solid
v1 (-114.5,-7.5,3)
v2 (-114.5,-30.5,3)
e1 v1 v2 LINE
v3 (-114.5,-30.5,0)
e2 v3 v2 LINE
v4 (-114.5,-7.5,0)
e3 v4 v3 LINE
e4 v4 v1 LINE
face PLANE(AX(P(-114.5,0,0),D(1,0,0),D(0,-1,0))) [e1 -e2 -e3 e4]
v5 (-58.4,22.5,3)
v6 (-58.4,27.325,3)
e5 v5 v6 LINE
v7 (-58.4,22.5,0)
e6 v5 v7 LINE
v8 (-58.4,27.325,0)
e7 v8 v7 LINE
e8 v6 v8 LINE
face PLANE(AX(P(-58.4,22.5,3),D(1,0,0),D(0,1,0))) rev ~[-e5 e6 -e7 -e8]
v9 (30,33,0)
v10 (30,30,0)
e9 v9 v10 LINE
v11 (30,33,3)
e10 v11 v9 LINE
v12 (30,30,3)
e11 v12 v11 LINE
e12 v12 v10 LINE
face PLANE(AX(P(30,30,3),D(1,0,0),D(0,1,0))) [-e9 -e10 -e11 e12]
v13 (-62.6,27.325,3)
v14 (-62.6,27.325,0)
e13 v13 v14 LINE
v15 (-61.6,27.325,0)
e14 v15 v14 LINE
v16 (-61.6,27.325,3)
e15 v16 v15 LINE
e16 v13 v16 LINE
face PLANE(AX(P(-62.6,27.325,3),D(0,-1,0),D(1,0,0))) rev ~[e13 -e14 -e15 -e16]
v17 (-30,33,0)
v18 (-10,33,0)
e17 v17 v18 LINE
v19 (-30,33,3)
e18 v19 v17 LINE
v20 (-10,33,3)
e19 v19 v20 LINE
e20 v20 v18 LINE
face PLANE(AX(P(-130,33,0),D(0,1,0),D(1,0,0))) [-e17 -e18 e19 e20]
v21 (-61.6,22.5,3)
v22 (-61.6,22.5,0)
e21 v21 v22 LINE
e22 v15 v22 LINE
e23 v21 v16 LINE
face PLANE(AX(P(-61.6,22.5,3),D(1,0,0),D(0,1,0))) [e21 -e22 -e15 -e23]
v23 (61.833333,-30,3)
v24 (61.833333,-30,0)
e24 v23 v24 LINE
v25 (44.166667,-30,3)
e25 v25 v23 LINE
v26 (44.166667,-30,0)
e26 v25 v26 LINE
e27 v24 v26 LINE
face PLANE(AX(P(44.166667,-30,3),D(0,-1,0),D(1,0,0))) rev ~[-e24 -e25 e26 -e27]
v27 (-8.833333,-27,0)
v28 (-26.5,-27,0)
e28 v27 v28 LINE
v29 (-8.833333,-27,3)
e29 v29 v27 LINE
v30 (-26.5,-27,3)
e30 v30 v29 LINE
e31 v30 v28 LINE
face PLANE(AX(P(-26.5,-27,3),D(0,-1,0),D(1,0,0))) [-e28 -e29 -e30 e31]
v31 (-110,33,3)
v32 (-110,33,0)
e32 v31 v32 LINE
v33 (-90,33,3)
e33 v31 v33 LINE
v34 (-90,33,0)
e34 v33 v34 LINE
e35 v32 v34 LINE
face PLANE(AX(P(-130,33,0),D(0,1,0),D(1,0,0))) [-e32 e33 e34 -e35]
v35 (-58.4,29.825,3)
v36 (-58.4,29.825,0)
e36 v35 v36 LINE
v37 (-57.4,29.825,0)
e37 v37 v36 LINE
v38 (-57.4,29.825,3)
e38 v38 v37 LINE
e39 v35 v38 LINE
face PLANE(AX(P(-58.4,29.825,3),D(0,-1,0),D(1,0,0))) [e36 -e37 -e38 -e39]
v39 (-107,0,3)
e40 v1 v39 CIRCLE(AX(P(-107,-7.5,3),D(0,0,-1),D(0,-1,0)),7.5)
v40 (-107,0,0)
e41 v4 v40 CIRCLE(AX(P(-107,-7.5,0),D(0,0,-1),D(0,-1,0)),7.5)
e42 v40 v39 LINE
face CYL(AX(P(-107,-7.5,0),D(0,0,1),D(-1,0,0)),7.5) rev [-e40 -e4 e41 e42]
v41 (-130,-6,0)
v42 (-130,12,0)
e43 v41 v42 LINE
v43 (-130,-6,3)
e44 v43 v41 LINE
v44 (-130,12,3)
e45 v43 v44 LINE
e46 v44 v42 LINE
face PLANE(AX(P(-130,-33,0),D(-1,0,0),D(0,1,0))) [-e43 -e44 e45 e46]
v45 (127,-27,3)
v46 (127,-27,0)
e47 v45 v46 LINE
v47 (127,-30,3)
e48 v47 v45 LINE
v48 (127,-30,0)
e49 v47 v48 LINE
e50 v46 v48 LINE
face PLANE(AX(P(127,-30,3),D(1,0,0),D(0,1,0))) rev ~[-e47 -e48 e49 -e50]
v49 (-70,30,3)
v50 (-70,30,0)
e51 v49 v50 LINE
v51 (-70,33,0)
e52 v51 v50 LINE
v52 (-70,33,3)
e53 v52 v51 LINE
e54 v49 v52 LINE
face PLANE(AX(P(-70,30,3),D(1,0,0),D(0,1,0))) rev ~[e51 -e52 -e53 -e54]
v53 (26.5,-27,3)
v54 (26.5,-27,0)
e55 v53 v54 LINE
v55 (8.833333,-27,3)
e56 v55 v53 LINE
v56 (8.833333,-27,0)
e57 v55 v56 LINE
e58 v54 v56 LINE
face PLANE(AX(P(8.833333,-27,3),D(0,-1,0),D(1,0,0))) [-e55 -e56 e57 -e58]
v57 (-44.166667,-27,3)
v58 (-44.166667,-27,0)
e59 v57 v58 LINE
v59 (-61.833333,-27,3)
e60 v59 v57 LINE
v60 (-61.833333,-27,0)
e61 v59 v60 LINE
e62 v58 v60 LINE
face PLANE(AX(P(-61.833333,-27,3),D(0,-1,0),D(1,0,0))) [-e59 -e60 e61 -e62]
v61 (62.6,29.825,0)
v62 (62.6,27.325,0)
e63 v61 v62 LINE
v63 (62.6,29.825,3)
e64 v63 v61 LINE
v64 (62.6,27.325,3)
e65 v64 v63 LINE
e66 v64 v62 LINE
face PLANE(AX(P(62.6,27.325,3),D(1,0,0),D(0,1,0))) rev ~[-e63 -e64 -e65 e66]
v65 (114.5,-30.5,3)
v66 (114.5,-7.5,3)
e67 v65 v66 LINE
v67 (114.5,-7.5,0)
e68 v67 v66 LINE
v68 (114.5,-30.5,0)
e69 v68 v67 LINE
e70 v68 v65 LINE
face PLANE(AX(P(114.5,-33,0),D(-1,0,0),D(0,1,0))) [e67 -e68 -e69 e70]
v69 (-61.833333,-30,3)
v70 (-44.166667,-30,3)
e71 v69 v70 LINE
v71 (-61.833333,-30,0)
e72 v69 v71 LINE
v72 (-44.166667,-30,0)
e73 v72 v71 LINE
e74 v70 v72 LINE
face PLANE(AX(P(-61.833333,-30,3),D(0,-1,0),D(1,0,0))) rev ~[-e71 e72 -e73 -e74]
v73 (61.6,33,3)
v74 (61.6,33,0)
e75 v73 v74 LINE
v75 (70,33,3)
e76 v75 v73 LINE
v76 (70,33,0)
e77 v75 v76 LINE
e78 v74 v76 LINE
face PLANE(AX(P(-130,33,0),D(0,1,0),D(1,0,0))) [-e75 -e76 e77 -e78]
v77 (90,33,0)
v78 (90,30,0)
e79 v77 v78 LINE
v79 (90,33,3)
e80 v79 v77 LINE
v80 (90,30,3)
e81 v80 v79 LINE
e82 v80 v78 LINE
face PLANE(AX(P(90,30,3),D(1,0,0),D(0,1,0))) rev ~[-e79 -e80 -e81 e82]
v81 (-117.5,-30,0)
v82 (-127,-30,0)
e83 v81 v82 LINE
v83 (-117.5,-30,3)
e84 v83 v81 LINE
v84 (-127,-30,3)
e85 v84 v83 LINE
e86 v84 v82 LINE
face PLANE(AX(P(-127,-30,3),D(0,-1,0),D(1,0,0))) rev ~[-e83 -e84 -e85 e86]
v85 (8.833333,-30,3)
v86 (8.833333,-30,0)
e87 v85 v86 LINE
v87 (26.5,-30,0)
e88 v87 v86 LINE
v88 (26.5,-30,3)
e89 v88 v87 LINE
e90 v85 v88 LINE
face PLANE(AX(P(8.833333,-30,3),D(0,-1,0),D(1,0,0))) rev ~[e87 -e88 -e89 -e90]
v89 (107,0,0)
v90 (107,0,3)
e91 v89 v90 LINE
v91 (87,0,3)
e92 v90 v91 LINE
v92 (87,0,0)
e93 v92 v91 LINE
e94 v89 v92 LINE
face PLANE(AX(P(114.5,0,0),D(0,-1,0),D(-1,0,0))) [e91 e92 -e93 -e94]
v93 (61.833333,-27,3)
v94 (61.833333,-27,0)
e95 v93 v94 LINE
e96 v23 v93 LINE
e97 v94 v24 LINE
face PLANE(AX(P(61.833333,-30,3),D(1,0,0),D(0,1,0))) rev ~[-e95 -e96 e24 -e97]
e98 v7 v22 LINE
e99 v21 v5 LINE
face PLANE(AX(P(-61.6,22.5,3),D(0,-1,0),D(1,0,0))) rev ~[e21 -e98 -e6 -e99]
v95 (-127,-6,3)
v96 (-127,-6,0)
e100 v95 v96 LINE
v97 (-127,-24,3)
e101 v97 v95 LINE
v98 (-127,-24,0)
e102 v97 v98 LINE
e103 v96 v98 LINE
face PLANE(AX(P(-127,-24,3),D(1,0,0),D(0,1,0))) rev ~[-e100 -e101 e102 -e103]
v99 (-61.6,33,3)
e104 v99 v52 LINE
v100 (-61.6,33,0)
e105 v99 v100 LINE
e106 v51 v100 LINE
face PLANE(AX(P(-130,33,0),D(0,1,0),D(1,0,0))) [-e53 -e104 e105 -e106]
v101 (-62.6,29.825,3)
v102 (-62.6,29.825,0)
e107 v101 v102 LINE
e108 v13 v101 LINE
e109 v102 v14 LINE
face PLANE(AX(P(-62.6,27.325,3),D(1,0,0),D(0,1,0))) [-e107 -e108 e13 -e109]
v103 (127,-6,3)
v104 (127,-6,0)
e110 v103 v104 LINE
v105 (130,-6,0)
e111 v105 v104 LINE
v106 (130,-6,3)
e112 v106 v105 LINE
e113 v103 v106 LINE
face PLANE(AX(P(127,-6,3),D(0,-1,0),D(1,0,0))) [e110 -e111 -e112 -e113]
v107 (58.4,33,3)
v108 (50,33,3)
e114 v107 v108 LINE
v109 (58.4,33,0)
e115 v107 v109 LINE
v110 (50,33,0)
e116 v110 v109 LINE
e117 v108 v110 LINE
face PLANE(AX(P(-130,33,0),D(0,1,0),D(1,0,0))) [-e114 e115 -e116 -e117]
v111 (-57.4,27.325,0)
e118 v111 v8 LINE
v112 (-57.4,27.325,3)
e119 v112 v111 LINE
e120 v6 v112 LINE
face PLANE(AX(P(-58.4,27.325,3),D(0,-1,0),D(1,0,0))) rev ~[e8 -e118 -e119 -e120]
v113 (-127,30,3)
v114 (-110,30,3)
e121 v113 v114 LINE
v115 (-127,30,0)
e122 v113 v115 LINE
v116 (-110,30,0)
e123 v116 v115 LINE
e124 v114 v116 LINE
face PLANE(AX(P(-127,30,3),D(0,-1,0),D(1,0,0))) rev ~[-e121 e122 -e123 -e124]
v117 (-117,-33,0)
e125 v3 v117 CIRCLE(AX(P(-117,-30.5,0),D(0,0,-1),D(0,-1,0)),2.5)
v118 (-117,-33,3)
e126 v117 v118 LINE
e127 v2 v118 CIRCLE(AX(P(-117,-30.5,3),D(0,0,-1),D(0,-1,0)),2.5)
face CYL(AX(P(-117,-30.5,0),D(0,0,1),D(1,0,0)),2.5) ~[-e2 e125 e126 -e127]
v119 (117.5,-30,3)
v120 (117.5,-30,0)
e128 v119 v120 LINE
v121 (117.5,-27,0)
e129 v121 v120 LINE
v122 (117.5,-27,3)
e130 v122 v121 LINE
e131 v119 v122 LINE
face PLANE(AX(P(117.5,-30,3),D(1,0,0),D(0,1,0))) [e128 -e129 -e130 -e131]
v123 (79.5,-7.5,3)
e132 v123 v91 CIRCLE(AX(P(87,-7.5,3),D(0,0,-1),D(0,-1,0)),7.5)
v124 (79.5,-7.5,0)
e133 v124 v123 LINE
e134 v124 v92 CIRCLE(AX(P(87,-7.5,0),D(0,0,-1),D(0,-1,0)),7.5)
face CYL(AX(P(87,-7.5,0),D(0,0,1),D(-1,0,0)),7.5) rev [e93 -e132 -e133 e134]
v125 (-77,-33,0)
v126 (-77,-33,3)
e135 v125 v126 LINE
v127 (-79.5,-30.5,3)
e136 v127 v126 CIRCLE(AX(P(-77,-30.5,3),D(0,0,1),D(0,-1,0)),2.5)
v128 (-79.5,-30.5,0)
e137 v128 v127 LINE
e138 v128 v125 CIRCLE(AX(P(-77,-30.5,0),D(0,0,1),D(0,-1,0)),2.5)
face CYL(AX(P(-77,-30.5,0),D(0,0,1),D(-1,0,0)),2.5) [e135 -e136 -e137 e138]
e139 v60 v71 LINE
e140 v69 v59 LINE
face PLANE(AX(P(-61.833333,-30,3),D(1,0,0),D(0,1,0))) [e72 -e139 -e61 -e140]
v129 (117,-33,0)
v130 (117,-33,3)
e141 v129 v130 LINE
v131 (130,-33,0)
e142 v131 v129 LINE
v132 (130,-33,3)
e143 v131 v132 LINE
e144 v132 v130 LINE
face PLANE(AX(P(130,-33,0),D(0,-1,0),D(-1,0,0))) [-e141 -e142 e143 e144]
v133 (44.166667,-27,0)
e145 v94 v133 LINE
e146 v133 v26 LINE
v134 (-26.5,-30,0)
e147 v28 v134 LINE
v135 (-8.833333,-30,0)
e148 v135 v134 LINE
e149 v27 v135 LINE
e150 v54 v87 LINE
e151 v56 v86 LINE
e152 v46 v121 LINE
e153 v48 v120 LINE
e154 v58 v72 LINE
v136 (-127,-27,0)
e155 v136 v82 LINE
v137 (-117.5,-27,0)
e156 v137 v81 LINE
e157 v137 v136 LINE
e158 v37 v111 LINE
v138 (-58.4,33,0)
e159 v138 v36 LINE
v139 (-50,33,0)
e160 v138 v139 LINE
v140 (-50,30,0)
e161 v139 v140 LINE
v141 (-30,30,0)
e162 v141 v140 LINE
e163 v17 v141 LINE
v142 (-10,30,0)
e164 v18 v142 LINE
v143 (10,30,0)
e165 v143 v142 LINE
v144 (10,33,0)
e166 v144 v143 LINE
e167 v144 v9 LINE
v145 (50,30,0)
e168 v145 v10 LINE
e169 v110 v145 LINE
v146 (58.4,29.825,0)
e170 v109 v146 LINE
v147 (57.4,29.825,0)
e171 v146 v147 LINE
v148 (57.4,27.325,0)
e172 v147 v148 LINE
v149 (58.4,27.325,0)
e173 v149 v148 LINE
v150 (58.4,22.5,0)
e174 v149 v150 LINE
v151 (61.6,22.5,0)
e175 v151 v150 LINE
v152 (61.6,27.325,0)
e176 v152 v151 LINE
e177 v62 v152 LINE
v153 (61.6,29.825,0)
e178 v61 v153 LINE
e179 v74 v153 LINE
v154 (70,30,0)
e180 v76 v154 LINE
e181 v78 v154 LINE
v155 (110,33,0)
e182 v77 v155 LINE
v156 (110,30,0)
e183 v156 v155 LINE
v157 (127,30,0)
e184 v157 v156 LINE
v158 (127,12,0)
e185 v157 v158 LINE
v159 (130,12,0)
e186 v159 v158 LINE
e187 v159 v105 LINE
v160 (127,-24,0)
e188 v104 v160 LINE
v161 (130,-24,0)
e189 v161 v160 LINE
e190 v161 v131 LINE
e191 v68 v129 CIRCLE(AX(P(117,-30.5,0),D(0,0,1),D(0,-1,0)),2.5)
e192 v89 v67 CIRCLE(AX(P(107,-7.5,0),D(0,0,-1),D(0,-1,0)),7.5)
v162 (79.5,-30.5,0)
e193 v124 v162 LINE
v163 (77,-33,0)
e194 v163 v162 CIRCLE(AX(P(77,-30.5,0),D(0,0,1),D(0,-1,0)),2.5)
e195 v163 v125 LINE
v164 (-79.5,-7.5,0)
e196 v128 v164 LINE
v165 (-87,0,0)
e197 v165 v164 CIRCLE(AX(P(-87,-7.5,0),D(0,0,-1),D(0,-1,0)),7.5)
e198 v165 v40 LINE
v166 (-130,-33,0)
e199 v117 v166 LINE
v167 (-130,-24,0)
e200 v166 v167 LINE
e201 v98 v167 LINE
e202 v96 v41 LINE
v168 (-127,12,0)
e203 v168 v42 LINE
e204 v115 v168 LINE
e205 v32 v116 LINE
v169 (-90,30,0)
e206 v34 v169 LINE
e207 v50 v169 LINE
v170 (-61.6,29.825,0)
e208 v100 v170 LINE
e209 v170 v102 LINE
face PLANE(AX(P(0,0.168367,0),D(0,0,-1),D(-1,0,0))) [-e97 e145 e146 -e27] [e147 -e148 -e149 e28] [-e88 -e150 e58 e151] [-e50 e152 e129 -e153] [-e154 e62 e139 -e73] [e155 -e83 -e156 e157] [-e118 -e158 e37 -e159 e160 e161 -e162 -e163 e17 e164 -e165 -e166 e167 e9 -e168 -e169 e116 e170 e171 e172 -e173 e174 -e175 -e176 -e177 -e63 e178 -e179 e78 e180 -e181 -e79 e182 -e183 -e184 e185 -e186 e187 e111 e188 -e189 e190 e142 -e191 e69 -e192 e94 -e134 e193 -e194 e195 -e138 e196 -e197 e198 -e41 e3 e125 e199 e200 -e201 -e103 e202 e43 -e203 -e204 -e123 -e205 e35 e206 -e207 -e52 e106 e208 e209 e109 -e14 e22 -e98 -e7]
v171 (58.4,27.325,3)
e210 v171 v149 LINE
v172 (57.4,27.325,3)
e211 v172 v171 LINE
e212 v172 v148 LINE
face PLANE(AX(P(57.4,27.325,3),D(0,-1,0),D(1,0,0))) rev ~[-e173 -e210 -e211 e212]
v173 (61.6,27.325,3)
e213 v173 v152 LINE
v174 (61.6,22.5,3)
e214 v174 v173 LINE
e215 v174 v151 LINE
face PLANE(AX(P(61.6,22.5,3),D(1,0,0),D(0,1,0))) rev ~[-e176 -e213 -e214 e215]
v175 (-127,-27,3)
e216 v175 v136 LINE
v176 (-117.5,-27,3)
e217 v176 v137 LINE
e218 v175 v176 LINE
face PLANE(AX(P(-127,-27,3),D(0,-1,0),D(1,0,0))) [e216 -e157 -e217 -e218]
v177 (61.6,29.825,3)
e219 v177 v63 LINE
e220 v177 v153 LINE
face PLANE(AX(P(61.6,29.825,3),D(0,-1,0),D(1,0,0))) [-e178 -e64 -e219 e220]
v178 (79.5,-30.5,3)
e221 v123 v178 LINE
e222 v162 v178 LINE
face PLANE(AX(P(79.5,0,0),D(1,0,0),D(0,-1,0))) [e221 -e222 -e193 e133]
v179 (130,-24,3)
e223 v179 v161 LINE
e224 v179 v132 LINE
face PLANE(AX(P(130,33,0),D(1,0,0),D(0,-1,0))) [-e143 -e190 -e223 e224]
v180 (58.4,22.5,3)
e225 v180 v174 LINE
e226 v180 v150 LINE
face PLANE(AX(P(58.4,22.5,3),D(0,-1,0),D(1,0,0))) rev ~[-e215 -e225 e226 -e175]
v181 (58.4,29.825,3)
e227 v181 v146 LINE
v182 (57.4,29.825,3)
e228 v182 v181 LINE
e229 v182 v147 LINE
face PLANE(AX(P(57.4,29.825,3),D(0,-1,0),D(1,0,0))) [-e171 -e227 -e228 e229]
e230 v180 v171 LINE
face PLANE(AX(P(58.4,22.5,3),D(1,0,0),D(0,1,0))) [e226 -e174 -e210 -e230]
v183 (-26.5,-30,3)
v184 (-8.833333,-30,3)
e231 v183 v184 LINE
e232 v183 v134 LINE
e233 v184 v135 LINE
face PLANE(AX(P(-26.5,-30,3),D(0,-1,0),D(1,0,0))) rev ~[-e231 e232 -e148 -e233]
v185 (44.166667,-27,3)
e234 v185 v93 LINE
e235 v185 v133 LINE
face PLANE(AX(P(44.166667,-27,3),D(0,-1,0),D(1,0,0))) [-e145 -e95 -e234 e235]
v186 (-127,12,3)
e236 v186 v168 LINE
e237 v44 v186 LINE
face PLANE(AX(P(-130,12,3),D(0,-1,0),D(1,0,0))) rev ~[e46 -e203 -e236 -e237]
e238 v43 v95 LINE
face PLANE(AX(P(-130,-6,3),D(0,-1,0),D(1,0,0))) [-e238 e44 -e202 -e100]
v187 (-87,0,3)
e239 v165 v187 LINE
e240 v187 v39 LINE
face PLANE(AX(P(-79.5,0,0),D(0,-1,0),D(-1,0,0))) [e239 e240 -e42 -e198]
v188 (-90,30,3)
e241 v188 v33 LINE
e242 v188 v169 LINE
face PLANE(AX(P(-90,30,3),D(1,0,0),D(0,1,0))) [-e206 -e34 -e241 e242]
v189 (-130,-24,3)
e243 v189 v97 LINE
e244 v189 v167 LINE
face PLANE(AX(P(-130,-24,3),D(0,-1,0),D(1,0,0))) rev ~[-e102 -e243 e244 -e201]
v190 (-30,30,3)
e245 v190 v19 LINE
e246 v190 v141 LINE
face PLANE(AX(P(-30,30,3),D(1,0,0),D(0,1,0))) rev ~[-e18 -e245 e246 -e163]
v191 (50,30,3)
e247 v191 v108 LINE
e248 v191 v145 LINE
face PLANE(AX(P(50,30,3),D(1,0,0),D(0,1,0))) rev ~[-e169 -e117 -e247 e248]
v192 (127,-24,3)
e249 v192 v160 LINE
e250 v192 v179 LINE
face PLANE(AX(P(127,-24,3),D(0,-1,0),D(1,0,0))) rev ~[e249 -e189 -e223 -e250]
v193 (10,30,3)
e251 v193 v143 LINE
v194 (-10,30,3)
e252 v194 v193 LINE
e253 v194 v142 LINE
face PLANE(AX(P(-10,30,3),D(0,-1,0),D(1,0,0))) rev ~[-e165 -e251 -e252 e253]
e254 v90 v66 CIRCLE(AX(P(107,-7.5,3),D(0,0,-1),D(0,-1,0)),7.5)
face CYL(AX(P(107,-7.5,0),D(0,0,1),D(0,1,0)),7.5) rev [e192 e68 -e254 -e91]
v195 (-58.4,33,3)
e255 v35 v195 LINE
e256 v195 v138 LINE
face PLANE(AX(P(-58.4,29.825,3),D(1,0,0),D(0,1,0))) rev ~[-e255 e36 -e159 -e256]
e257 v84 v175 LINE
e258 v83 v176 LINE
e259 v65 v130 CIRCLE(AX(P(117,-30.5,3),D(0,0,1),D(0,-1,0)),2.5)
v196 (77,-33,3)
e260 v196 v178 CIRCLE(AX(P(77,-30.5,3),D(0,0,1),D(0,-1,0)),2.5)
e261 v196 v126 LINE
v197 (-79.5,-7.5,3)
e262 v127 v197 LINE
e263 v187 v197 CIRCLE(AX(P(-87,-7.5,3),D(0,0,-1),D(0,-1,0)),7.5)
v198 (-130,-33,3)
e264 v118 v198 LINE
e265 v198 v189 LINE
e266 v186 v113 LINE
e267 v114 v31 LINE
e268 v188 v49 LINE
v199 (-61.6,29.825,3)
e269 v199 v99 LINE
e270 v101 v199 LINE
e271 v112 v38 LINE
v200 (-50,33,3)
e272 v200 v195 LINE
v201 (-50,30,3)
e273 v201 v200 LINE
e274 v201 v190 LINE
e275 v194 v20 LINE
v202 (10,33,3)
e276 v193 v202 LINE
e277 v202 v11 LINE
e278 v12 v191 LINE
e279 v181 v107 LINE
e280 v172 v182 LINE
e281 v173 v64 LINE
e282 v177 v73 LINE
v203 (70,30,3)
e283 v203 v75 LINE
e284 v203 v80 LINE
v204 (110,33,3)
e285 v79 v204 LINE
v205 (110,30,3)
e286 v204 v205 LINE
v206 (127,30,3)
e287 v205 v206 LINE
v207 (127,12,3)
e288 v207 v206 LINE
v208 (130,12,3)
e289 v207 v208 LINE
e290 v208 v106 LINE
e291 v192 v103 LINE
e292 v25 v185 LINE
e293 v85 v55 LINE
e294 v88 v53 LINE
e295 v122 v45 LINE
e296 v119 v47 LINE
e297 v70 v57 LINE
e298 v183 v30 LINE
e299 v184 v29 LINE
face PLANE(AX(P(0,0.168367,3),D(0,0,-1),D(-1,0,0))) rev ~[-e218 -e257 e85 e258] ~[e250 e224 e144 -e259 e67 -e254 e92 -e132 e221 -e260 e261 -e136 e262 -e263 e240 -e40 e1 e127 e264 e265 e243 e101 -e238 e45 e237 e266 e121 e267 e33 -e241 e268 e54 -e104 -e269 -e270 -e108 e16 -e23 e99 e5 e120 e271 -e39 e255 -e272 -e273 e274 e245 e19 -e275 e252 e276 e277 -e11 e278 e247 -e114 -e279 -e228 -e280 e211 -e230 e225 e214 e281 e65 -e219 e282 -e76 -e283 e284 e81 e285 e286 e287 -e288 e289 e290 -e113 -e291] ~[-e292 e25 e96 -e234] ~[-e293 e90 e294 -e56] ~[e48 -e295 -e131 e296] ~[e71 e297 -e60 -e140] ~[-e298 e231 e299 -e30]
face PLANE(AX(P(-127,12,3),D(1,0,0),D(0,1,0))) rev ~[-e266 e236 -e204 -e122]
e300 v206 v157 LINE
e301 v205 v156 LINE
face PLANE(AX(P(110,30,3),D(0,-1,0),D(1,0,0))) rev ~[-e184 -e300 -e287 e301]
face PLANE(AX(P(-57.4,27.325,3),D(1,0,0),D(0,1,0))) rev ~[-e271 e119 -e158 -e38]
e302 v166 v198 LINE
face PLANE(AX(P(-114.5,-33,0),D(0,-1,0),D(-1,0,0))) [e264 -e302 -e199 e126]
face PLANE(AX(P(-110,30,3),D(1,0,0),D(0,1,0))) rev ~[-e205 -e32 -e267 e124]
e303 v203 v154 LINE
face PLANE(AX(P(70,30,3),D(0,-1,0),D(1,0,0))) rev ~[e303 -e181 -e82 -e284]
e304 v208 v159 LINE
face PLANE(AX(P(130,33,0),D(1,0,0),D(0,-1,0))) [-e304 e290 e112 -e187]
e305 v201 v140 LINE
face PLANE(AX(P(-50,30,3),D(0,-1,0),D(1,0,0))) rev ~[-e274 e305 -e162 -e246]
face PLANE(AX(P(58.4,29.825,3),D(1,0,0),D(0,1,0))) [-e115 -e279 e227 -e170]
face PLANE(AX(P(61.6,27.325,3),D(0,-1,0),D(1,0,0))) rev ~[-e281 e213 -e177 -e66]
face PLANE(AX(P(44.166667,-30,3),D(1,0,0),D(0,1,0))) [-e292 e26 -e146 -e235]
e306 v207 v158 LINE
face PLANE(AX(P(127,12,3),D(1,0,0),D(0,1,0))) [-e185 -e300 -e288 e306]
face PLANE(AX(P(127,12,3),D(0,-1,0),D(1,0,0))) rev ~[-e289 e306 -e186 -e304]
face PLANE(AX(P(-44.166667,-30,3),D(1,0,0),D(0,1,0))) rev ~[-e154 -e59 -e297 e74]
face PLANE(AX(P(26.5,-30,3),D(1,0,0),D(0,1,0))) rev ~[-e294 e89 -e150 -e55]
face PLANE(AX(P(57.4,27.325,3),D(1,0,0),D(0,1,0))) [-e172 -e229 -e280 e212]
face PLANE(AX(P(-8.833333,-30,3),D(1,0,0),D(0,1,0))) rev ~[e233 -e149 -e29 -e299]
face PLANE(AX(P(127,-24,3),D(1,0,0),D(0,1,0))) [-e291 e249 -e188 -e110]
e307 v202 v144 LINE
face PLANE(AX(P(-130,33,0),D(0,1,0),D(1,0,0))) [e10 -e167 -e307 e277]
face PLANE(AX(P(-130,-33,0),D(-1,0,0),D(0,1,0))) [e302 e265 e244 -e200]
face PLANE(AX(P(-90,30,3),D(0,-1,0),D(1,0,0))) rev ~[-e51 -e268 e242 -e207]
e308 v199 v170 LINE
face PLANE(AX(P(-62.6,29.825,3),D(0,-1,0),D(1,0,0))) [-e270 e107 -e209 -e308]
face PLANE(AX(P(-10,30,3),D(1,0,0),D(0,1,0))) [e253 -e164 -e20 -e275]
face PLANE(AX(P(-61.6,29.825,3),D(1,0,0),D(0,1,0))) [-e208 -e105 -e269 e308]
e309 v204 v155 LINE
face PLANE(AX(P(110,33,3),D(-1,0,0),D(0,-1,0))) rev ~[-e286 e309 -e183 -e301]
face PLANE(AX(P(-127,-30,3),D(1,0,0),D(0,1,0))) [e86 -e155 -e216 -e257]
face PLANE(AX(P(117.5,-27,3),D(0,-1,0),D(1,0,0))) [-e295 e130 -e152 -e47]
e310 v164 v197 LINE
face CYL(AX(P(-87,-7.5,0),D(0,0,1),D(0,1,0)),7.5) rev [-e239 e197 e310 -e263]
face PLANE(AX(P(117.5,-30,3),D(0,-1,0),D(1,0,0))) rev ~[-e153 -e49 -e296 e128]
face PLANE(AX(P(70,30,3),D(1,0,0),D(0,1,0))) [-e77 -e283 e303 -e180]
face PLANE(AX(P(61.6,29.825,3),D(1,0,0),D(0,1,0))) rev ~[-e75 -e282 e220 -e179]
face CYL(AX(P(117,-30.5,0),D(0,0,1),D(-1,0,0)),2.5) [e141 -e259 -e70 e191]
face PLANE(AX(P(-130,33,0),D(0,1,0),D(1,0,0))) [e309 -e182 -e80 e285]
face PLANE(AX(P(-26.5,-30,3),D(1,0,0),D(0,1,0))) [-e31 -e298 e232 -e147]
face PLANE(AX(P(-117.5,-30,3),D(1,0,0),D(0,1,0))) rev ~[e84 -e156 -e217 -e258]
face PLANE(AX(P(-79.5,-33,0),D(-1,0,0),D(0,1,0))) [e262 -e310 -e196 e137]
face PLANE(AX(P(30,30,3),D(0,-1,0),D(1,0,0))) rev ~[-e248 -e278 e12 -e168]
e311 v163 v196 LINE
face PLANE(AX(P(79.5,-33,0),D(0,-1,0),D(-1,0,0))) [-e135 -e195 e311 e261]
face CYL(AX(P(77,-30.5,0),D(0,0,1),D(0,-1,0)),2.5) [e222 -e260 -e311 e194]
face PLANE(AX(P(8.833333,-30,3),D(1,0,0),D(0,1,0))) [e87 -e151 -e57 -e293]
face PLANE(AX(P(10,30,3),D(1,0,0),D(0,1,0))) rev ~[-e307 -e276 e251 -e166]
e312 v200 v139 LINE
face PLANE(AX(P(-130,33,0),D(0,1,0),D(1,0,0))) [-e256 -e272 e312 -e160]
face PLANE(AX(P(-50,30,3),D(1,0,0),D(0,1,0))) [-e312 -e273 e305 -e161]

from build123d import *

# Parameters (mm, degrees)
BOSS_EXTRUDE1_DEPTH     = 3
SKETCH2_W               = 3
SKETCH2_H               = 18
SKETCH2_W_2             = 17.666666666
SKETCH2_H_2             = 3
SKETCH2_W_3             = 17.666666667
SKETCH2_W_4             = 9.5
SKETCH2_W_5             = 20
CUT_EXTRUDE1_DEPTH      = 1
CUT_EXTRUDE1_DEPTH_BACK = 4
SKETCH3_W               = 3.2
SKETCH3_H               = 10.5
SKETCH3_W_2             = 5.2
SKETCH3_H_2             = 2.5
CUT_EXTRUDE2_DEPTH      = 1
CUT_EXTRUDE2_DEPTH_BACK = 4
FILLET1_R               = 7.5
FILLET2_R               = 2.5


with BuildPart() as part:
    # Sketch1 → Boss-Extrude1 (new body)
    with BuildSketch(Plane.XY):
        Polygon((-130, 33), (130, 33), (130, -33), (114.5, -33), (114.5, 0), (79.5, 0), (79.5, -33), (-79.5, -33), (-79.5, 0), (-114.5, 0), (-114.5, -33), (-130, -33), align=None)
    extrude(amount=BOSS_EXTRUDE1_DEPTH)

    # Sketch2 → Cut-Extrude1 (cut, two sides)
    with BuildSketch(Plane.XY.offset(3)) as cut_extrude1_sk:
        with Locations((-128.5, 21)):
            Rectangle(SKETCH2_W, SKETCH2_H)
        with Locations((-128.5, -15)):
            Rectangle(SKETCH2_W, SKETCH2_H)
        with Locations((-53, -28.5)):
            Rectangle(SKETCH2_W_2, SKETCH2_H_2)
        with Locations((-17.666666666, -28.5)):
            Rectangle(SKETCH2_W_3, SKETCH2_H_2)
        with Locations((17.666666666, -28.5)):
            Rectangle(SKETCH2_W_3, SKETCH2_H_2)
        with Locations((53, -28.5)):
            Rectangle(SKETCH2_W_2, SKETCH2_H_2)
        with Locations((122.25, -28.5)):
            Rectangle(SKETCH2_W_4, SKETCH2_H_2)
        with Locations((128.5, -15)):
            Rectangle(SKETCH2_W, SKETCH2_H)
        with Locations((128.5, 21)):
            Rectangle(SKETCH2_W, SKETCH2_H)
        Polygon((130, 33), (110, 33), (110, 30), (127, 30), (130, 30), align=None)
        with Locations((80, 31.5)):
            Rectangle(SKETCH2_W_5, SKETCH2_H_2)
        with Locations((40, 31.5)):
            Rectangle(SKETCH2_W_5, SKETCH2_H_2)
        with Locations((-40, 31.5)):
            Rectangle(SKETCH2_W_5, SKETCH2_H_2)
        with Locations((-80, 31.5)):
            Rectangle(SKETCH2_W_5, SKETCH2_H_2)
        with Locations((0, 31.5)):
            Rectangle(SKETCH2_W_5, SKETCH2_H_2)
        with Locations((-120, 31.5)):
            Rectangle(SKETCH2_W_5, SKETCH2_H_2)
        with Locations((-122.25, -28.5)):
            Rectangle(SKETCH2_W_4, SKETCH2_H_2)
    extrude(amount=CUT_EXTRUDE1_DEPTH, mode=Mode.SUBTRACT)
    extrude(cut_extrude1_sk.sketch, amount=-CUT_EXTRUDE1_DEPTH_BACK, mode=Mode.SUBTRACT)

    # Sketch3 → Cut-Extrude2 (cut, two sides)
    with BuildSketch(Plane.XY.offset(3)) as cut_extrude2_sk:
        with Locations((-60, 27.75)):
            Rectangle(SKETCH3_W, SKETCH3_H)
        with Locations((60, 27.75)):
            Rectangle(SKETCH3_W, SKETCH3_H)
        with Locations((-60, 28.575)):
            Rectangle(SKETCH3_W_2, SKETCH3_H_2)
        with Locations((60, 28.575)):
            Rectangle(SKETCH3_W_2, SKETCH3_H_2)
    extrude(amount=CUT_EXTRUDE2_DEPTH, mode=Mode.SUBTRACT)
    extrude(cut_extrude2_sk.sketch, amount=-CUT_EXTRUDE2_DEPTH_BACK, mode=Mode.SUBTRACT)

    # Fillet1
    fillet1_edges = [part.edges().sort_by_distance(p)[0] for p in [
        (114.5, 0, 1.5),
        (79.5, 0, 1.5),
        (-79.5, 0, 1.5),
        (-114.5, 0, 1.5),
    ]]
    fillet(fillet1_edges, radius=FILLET1_R)

    # Fillet2
    fillet2_edges = [part.edges().sort_by_distance(p)[0] for p in [
        (114.5, -33, 1.5),
        (79.5, -33, 1.5),
        (-79.5, -33, 1.5),
        (-114.5, -33, 1.5),
    ]]
    fillet(fillet2_edges, radius=FILLET2_R)


solid = part.part
